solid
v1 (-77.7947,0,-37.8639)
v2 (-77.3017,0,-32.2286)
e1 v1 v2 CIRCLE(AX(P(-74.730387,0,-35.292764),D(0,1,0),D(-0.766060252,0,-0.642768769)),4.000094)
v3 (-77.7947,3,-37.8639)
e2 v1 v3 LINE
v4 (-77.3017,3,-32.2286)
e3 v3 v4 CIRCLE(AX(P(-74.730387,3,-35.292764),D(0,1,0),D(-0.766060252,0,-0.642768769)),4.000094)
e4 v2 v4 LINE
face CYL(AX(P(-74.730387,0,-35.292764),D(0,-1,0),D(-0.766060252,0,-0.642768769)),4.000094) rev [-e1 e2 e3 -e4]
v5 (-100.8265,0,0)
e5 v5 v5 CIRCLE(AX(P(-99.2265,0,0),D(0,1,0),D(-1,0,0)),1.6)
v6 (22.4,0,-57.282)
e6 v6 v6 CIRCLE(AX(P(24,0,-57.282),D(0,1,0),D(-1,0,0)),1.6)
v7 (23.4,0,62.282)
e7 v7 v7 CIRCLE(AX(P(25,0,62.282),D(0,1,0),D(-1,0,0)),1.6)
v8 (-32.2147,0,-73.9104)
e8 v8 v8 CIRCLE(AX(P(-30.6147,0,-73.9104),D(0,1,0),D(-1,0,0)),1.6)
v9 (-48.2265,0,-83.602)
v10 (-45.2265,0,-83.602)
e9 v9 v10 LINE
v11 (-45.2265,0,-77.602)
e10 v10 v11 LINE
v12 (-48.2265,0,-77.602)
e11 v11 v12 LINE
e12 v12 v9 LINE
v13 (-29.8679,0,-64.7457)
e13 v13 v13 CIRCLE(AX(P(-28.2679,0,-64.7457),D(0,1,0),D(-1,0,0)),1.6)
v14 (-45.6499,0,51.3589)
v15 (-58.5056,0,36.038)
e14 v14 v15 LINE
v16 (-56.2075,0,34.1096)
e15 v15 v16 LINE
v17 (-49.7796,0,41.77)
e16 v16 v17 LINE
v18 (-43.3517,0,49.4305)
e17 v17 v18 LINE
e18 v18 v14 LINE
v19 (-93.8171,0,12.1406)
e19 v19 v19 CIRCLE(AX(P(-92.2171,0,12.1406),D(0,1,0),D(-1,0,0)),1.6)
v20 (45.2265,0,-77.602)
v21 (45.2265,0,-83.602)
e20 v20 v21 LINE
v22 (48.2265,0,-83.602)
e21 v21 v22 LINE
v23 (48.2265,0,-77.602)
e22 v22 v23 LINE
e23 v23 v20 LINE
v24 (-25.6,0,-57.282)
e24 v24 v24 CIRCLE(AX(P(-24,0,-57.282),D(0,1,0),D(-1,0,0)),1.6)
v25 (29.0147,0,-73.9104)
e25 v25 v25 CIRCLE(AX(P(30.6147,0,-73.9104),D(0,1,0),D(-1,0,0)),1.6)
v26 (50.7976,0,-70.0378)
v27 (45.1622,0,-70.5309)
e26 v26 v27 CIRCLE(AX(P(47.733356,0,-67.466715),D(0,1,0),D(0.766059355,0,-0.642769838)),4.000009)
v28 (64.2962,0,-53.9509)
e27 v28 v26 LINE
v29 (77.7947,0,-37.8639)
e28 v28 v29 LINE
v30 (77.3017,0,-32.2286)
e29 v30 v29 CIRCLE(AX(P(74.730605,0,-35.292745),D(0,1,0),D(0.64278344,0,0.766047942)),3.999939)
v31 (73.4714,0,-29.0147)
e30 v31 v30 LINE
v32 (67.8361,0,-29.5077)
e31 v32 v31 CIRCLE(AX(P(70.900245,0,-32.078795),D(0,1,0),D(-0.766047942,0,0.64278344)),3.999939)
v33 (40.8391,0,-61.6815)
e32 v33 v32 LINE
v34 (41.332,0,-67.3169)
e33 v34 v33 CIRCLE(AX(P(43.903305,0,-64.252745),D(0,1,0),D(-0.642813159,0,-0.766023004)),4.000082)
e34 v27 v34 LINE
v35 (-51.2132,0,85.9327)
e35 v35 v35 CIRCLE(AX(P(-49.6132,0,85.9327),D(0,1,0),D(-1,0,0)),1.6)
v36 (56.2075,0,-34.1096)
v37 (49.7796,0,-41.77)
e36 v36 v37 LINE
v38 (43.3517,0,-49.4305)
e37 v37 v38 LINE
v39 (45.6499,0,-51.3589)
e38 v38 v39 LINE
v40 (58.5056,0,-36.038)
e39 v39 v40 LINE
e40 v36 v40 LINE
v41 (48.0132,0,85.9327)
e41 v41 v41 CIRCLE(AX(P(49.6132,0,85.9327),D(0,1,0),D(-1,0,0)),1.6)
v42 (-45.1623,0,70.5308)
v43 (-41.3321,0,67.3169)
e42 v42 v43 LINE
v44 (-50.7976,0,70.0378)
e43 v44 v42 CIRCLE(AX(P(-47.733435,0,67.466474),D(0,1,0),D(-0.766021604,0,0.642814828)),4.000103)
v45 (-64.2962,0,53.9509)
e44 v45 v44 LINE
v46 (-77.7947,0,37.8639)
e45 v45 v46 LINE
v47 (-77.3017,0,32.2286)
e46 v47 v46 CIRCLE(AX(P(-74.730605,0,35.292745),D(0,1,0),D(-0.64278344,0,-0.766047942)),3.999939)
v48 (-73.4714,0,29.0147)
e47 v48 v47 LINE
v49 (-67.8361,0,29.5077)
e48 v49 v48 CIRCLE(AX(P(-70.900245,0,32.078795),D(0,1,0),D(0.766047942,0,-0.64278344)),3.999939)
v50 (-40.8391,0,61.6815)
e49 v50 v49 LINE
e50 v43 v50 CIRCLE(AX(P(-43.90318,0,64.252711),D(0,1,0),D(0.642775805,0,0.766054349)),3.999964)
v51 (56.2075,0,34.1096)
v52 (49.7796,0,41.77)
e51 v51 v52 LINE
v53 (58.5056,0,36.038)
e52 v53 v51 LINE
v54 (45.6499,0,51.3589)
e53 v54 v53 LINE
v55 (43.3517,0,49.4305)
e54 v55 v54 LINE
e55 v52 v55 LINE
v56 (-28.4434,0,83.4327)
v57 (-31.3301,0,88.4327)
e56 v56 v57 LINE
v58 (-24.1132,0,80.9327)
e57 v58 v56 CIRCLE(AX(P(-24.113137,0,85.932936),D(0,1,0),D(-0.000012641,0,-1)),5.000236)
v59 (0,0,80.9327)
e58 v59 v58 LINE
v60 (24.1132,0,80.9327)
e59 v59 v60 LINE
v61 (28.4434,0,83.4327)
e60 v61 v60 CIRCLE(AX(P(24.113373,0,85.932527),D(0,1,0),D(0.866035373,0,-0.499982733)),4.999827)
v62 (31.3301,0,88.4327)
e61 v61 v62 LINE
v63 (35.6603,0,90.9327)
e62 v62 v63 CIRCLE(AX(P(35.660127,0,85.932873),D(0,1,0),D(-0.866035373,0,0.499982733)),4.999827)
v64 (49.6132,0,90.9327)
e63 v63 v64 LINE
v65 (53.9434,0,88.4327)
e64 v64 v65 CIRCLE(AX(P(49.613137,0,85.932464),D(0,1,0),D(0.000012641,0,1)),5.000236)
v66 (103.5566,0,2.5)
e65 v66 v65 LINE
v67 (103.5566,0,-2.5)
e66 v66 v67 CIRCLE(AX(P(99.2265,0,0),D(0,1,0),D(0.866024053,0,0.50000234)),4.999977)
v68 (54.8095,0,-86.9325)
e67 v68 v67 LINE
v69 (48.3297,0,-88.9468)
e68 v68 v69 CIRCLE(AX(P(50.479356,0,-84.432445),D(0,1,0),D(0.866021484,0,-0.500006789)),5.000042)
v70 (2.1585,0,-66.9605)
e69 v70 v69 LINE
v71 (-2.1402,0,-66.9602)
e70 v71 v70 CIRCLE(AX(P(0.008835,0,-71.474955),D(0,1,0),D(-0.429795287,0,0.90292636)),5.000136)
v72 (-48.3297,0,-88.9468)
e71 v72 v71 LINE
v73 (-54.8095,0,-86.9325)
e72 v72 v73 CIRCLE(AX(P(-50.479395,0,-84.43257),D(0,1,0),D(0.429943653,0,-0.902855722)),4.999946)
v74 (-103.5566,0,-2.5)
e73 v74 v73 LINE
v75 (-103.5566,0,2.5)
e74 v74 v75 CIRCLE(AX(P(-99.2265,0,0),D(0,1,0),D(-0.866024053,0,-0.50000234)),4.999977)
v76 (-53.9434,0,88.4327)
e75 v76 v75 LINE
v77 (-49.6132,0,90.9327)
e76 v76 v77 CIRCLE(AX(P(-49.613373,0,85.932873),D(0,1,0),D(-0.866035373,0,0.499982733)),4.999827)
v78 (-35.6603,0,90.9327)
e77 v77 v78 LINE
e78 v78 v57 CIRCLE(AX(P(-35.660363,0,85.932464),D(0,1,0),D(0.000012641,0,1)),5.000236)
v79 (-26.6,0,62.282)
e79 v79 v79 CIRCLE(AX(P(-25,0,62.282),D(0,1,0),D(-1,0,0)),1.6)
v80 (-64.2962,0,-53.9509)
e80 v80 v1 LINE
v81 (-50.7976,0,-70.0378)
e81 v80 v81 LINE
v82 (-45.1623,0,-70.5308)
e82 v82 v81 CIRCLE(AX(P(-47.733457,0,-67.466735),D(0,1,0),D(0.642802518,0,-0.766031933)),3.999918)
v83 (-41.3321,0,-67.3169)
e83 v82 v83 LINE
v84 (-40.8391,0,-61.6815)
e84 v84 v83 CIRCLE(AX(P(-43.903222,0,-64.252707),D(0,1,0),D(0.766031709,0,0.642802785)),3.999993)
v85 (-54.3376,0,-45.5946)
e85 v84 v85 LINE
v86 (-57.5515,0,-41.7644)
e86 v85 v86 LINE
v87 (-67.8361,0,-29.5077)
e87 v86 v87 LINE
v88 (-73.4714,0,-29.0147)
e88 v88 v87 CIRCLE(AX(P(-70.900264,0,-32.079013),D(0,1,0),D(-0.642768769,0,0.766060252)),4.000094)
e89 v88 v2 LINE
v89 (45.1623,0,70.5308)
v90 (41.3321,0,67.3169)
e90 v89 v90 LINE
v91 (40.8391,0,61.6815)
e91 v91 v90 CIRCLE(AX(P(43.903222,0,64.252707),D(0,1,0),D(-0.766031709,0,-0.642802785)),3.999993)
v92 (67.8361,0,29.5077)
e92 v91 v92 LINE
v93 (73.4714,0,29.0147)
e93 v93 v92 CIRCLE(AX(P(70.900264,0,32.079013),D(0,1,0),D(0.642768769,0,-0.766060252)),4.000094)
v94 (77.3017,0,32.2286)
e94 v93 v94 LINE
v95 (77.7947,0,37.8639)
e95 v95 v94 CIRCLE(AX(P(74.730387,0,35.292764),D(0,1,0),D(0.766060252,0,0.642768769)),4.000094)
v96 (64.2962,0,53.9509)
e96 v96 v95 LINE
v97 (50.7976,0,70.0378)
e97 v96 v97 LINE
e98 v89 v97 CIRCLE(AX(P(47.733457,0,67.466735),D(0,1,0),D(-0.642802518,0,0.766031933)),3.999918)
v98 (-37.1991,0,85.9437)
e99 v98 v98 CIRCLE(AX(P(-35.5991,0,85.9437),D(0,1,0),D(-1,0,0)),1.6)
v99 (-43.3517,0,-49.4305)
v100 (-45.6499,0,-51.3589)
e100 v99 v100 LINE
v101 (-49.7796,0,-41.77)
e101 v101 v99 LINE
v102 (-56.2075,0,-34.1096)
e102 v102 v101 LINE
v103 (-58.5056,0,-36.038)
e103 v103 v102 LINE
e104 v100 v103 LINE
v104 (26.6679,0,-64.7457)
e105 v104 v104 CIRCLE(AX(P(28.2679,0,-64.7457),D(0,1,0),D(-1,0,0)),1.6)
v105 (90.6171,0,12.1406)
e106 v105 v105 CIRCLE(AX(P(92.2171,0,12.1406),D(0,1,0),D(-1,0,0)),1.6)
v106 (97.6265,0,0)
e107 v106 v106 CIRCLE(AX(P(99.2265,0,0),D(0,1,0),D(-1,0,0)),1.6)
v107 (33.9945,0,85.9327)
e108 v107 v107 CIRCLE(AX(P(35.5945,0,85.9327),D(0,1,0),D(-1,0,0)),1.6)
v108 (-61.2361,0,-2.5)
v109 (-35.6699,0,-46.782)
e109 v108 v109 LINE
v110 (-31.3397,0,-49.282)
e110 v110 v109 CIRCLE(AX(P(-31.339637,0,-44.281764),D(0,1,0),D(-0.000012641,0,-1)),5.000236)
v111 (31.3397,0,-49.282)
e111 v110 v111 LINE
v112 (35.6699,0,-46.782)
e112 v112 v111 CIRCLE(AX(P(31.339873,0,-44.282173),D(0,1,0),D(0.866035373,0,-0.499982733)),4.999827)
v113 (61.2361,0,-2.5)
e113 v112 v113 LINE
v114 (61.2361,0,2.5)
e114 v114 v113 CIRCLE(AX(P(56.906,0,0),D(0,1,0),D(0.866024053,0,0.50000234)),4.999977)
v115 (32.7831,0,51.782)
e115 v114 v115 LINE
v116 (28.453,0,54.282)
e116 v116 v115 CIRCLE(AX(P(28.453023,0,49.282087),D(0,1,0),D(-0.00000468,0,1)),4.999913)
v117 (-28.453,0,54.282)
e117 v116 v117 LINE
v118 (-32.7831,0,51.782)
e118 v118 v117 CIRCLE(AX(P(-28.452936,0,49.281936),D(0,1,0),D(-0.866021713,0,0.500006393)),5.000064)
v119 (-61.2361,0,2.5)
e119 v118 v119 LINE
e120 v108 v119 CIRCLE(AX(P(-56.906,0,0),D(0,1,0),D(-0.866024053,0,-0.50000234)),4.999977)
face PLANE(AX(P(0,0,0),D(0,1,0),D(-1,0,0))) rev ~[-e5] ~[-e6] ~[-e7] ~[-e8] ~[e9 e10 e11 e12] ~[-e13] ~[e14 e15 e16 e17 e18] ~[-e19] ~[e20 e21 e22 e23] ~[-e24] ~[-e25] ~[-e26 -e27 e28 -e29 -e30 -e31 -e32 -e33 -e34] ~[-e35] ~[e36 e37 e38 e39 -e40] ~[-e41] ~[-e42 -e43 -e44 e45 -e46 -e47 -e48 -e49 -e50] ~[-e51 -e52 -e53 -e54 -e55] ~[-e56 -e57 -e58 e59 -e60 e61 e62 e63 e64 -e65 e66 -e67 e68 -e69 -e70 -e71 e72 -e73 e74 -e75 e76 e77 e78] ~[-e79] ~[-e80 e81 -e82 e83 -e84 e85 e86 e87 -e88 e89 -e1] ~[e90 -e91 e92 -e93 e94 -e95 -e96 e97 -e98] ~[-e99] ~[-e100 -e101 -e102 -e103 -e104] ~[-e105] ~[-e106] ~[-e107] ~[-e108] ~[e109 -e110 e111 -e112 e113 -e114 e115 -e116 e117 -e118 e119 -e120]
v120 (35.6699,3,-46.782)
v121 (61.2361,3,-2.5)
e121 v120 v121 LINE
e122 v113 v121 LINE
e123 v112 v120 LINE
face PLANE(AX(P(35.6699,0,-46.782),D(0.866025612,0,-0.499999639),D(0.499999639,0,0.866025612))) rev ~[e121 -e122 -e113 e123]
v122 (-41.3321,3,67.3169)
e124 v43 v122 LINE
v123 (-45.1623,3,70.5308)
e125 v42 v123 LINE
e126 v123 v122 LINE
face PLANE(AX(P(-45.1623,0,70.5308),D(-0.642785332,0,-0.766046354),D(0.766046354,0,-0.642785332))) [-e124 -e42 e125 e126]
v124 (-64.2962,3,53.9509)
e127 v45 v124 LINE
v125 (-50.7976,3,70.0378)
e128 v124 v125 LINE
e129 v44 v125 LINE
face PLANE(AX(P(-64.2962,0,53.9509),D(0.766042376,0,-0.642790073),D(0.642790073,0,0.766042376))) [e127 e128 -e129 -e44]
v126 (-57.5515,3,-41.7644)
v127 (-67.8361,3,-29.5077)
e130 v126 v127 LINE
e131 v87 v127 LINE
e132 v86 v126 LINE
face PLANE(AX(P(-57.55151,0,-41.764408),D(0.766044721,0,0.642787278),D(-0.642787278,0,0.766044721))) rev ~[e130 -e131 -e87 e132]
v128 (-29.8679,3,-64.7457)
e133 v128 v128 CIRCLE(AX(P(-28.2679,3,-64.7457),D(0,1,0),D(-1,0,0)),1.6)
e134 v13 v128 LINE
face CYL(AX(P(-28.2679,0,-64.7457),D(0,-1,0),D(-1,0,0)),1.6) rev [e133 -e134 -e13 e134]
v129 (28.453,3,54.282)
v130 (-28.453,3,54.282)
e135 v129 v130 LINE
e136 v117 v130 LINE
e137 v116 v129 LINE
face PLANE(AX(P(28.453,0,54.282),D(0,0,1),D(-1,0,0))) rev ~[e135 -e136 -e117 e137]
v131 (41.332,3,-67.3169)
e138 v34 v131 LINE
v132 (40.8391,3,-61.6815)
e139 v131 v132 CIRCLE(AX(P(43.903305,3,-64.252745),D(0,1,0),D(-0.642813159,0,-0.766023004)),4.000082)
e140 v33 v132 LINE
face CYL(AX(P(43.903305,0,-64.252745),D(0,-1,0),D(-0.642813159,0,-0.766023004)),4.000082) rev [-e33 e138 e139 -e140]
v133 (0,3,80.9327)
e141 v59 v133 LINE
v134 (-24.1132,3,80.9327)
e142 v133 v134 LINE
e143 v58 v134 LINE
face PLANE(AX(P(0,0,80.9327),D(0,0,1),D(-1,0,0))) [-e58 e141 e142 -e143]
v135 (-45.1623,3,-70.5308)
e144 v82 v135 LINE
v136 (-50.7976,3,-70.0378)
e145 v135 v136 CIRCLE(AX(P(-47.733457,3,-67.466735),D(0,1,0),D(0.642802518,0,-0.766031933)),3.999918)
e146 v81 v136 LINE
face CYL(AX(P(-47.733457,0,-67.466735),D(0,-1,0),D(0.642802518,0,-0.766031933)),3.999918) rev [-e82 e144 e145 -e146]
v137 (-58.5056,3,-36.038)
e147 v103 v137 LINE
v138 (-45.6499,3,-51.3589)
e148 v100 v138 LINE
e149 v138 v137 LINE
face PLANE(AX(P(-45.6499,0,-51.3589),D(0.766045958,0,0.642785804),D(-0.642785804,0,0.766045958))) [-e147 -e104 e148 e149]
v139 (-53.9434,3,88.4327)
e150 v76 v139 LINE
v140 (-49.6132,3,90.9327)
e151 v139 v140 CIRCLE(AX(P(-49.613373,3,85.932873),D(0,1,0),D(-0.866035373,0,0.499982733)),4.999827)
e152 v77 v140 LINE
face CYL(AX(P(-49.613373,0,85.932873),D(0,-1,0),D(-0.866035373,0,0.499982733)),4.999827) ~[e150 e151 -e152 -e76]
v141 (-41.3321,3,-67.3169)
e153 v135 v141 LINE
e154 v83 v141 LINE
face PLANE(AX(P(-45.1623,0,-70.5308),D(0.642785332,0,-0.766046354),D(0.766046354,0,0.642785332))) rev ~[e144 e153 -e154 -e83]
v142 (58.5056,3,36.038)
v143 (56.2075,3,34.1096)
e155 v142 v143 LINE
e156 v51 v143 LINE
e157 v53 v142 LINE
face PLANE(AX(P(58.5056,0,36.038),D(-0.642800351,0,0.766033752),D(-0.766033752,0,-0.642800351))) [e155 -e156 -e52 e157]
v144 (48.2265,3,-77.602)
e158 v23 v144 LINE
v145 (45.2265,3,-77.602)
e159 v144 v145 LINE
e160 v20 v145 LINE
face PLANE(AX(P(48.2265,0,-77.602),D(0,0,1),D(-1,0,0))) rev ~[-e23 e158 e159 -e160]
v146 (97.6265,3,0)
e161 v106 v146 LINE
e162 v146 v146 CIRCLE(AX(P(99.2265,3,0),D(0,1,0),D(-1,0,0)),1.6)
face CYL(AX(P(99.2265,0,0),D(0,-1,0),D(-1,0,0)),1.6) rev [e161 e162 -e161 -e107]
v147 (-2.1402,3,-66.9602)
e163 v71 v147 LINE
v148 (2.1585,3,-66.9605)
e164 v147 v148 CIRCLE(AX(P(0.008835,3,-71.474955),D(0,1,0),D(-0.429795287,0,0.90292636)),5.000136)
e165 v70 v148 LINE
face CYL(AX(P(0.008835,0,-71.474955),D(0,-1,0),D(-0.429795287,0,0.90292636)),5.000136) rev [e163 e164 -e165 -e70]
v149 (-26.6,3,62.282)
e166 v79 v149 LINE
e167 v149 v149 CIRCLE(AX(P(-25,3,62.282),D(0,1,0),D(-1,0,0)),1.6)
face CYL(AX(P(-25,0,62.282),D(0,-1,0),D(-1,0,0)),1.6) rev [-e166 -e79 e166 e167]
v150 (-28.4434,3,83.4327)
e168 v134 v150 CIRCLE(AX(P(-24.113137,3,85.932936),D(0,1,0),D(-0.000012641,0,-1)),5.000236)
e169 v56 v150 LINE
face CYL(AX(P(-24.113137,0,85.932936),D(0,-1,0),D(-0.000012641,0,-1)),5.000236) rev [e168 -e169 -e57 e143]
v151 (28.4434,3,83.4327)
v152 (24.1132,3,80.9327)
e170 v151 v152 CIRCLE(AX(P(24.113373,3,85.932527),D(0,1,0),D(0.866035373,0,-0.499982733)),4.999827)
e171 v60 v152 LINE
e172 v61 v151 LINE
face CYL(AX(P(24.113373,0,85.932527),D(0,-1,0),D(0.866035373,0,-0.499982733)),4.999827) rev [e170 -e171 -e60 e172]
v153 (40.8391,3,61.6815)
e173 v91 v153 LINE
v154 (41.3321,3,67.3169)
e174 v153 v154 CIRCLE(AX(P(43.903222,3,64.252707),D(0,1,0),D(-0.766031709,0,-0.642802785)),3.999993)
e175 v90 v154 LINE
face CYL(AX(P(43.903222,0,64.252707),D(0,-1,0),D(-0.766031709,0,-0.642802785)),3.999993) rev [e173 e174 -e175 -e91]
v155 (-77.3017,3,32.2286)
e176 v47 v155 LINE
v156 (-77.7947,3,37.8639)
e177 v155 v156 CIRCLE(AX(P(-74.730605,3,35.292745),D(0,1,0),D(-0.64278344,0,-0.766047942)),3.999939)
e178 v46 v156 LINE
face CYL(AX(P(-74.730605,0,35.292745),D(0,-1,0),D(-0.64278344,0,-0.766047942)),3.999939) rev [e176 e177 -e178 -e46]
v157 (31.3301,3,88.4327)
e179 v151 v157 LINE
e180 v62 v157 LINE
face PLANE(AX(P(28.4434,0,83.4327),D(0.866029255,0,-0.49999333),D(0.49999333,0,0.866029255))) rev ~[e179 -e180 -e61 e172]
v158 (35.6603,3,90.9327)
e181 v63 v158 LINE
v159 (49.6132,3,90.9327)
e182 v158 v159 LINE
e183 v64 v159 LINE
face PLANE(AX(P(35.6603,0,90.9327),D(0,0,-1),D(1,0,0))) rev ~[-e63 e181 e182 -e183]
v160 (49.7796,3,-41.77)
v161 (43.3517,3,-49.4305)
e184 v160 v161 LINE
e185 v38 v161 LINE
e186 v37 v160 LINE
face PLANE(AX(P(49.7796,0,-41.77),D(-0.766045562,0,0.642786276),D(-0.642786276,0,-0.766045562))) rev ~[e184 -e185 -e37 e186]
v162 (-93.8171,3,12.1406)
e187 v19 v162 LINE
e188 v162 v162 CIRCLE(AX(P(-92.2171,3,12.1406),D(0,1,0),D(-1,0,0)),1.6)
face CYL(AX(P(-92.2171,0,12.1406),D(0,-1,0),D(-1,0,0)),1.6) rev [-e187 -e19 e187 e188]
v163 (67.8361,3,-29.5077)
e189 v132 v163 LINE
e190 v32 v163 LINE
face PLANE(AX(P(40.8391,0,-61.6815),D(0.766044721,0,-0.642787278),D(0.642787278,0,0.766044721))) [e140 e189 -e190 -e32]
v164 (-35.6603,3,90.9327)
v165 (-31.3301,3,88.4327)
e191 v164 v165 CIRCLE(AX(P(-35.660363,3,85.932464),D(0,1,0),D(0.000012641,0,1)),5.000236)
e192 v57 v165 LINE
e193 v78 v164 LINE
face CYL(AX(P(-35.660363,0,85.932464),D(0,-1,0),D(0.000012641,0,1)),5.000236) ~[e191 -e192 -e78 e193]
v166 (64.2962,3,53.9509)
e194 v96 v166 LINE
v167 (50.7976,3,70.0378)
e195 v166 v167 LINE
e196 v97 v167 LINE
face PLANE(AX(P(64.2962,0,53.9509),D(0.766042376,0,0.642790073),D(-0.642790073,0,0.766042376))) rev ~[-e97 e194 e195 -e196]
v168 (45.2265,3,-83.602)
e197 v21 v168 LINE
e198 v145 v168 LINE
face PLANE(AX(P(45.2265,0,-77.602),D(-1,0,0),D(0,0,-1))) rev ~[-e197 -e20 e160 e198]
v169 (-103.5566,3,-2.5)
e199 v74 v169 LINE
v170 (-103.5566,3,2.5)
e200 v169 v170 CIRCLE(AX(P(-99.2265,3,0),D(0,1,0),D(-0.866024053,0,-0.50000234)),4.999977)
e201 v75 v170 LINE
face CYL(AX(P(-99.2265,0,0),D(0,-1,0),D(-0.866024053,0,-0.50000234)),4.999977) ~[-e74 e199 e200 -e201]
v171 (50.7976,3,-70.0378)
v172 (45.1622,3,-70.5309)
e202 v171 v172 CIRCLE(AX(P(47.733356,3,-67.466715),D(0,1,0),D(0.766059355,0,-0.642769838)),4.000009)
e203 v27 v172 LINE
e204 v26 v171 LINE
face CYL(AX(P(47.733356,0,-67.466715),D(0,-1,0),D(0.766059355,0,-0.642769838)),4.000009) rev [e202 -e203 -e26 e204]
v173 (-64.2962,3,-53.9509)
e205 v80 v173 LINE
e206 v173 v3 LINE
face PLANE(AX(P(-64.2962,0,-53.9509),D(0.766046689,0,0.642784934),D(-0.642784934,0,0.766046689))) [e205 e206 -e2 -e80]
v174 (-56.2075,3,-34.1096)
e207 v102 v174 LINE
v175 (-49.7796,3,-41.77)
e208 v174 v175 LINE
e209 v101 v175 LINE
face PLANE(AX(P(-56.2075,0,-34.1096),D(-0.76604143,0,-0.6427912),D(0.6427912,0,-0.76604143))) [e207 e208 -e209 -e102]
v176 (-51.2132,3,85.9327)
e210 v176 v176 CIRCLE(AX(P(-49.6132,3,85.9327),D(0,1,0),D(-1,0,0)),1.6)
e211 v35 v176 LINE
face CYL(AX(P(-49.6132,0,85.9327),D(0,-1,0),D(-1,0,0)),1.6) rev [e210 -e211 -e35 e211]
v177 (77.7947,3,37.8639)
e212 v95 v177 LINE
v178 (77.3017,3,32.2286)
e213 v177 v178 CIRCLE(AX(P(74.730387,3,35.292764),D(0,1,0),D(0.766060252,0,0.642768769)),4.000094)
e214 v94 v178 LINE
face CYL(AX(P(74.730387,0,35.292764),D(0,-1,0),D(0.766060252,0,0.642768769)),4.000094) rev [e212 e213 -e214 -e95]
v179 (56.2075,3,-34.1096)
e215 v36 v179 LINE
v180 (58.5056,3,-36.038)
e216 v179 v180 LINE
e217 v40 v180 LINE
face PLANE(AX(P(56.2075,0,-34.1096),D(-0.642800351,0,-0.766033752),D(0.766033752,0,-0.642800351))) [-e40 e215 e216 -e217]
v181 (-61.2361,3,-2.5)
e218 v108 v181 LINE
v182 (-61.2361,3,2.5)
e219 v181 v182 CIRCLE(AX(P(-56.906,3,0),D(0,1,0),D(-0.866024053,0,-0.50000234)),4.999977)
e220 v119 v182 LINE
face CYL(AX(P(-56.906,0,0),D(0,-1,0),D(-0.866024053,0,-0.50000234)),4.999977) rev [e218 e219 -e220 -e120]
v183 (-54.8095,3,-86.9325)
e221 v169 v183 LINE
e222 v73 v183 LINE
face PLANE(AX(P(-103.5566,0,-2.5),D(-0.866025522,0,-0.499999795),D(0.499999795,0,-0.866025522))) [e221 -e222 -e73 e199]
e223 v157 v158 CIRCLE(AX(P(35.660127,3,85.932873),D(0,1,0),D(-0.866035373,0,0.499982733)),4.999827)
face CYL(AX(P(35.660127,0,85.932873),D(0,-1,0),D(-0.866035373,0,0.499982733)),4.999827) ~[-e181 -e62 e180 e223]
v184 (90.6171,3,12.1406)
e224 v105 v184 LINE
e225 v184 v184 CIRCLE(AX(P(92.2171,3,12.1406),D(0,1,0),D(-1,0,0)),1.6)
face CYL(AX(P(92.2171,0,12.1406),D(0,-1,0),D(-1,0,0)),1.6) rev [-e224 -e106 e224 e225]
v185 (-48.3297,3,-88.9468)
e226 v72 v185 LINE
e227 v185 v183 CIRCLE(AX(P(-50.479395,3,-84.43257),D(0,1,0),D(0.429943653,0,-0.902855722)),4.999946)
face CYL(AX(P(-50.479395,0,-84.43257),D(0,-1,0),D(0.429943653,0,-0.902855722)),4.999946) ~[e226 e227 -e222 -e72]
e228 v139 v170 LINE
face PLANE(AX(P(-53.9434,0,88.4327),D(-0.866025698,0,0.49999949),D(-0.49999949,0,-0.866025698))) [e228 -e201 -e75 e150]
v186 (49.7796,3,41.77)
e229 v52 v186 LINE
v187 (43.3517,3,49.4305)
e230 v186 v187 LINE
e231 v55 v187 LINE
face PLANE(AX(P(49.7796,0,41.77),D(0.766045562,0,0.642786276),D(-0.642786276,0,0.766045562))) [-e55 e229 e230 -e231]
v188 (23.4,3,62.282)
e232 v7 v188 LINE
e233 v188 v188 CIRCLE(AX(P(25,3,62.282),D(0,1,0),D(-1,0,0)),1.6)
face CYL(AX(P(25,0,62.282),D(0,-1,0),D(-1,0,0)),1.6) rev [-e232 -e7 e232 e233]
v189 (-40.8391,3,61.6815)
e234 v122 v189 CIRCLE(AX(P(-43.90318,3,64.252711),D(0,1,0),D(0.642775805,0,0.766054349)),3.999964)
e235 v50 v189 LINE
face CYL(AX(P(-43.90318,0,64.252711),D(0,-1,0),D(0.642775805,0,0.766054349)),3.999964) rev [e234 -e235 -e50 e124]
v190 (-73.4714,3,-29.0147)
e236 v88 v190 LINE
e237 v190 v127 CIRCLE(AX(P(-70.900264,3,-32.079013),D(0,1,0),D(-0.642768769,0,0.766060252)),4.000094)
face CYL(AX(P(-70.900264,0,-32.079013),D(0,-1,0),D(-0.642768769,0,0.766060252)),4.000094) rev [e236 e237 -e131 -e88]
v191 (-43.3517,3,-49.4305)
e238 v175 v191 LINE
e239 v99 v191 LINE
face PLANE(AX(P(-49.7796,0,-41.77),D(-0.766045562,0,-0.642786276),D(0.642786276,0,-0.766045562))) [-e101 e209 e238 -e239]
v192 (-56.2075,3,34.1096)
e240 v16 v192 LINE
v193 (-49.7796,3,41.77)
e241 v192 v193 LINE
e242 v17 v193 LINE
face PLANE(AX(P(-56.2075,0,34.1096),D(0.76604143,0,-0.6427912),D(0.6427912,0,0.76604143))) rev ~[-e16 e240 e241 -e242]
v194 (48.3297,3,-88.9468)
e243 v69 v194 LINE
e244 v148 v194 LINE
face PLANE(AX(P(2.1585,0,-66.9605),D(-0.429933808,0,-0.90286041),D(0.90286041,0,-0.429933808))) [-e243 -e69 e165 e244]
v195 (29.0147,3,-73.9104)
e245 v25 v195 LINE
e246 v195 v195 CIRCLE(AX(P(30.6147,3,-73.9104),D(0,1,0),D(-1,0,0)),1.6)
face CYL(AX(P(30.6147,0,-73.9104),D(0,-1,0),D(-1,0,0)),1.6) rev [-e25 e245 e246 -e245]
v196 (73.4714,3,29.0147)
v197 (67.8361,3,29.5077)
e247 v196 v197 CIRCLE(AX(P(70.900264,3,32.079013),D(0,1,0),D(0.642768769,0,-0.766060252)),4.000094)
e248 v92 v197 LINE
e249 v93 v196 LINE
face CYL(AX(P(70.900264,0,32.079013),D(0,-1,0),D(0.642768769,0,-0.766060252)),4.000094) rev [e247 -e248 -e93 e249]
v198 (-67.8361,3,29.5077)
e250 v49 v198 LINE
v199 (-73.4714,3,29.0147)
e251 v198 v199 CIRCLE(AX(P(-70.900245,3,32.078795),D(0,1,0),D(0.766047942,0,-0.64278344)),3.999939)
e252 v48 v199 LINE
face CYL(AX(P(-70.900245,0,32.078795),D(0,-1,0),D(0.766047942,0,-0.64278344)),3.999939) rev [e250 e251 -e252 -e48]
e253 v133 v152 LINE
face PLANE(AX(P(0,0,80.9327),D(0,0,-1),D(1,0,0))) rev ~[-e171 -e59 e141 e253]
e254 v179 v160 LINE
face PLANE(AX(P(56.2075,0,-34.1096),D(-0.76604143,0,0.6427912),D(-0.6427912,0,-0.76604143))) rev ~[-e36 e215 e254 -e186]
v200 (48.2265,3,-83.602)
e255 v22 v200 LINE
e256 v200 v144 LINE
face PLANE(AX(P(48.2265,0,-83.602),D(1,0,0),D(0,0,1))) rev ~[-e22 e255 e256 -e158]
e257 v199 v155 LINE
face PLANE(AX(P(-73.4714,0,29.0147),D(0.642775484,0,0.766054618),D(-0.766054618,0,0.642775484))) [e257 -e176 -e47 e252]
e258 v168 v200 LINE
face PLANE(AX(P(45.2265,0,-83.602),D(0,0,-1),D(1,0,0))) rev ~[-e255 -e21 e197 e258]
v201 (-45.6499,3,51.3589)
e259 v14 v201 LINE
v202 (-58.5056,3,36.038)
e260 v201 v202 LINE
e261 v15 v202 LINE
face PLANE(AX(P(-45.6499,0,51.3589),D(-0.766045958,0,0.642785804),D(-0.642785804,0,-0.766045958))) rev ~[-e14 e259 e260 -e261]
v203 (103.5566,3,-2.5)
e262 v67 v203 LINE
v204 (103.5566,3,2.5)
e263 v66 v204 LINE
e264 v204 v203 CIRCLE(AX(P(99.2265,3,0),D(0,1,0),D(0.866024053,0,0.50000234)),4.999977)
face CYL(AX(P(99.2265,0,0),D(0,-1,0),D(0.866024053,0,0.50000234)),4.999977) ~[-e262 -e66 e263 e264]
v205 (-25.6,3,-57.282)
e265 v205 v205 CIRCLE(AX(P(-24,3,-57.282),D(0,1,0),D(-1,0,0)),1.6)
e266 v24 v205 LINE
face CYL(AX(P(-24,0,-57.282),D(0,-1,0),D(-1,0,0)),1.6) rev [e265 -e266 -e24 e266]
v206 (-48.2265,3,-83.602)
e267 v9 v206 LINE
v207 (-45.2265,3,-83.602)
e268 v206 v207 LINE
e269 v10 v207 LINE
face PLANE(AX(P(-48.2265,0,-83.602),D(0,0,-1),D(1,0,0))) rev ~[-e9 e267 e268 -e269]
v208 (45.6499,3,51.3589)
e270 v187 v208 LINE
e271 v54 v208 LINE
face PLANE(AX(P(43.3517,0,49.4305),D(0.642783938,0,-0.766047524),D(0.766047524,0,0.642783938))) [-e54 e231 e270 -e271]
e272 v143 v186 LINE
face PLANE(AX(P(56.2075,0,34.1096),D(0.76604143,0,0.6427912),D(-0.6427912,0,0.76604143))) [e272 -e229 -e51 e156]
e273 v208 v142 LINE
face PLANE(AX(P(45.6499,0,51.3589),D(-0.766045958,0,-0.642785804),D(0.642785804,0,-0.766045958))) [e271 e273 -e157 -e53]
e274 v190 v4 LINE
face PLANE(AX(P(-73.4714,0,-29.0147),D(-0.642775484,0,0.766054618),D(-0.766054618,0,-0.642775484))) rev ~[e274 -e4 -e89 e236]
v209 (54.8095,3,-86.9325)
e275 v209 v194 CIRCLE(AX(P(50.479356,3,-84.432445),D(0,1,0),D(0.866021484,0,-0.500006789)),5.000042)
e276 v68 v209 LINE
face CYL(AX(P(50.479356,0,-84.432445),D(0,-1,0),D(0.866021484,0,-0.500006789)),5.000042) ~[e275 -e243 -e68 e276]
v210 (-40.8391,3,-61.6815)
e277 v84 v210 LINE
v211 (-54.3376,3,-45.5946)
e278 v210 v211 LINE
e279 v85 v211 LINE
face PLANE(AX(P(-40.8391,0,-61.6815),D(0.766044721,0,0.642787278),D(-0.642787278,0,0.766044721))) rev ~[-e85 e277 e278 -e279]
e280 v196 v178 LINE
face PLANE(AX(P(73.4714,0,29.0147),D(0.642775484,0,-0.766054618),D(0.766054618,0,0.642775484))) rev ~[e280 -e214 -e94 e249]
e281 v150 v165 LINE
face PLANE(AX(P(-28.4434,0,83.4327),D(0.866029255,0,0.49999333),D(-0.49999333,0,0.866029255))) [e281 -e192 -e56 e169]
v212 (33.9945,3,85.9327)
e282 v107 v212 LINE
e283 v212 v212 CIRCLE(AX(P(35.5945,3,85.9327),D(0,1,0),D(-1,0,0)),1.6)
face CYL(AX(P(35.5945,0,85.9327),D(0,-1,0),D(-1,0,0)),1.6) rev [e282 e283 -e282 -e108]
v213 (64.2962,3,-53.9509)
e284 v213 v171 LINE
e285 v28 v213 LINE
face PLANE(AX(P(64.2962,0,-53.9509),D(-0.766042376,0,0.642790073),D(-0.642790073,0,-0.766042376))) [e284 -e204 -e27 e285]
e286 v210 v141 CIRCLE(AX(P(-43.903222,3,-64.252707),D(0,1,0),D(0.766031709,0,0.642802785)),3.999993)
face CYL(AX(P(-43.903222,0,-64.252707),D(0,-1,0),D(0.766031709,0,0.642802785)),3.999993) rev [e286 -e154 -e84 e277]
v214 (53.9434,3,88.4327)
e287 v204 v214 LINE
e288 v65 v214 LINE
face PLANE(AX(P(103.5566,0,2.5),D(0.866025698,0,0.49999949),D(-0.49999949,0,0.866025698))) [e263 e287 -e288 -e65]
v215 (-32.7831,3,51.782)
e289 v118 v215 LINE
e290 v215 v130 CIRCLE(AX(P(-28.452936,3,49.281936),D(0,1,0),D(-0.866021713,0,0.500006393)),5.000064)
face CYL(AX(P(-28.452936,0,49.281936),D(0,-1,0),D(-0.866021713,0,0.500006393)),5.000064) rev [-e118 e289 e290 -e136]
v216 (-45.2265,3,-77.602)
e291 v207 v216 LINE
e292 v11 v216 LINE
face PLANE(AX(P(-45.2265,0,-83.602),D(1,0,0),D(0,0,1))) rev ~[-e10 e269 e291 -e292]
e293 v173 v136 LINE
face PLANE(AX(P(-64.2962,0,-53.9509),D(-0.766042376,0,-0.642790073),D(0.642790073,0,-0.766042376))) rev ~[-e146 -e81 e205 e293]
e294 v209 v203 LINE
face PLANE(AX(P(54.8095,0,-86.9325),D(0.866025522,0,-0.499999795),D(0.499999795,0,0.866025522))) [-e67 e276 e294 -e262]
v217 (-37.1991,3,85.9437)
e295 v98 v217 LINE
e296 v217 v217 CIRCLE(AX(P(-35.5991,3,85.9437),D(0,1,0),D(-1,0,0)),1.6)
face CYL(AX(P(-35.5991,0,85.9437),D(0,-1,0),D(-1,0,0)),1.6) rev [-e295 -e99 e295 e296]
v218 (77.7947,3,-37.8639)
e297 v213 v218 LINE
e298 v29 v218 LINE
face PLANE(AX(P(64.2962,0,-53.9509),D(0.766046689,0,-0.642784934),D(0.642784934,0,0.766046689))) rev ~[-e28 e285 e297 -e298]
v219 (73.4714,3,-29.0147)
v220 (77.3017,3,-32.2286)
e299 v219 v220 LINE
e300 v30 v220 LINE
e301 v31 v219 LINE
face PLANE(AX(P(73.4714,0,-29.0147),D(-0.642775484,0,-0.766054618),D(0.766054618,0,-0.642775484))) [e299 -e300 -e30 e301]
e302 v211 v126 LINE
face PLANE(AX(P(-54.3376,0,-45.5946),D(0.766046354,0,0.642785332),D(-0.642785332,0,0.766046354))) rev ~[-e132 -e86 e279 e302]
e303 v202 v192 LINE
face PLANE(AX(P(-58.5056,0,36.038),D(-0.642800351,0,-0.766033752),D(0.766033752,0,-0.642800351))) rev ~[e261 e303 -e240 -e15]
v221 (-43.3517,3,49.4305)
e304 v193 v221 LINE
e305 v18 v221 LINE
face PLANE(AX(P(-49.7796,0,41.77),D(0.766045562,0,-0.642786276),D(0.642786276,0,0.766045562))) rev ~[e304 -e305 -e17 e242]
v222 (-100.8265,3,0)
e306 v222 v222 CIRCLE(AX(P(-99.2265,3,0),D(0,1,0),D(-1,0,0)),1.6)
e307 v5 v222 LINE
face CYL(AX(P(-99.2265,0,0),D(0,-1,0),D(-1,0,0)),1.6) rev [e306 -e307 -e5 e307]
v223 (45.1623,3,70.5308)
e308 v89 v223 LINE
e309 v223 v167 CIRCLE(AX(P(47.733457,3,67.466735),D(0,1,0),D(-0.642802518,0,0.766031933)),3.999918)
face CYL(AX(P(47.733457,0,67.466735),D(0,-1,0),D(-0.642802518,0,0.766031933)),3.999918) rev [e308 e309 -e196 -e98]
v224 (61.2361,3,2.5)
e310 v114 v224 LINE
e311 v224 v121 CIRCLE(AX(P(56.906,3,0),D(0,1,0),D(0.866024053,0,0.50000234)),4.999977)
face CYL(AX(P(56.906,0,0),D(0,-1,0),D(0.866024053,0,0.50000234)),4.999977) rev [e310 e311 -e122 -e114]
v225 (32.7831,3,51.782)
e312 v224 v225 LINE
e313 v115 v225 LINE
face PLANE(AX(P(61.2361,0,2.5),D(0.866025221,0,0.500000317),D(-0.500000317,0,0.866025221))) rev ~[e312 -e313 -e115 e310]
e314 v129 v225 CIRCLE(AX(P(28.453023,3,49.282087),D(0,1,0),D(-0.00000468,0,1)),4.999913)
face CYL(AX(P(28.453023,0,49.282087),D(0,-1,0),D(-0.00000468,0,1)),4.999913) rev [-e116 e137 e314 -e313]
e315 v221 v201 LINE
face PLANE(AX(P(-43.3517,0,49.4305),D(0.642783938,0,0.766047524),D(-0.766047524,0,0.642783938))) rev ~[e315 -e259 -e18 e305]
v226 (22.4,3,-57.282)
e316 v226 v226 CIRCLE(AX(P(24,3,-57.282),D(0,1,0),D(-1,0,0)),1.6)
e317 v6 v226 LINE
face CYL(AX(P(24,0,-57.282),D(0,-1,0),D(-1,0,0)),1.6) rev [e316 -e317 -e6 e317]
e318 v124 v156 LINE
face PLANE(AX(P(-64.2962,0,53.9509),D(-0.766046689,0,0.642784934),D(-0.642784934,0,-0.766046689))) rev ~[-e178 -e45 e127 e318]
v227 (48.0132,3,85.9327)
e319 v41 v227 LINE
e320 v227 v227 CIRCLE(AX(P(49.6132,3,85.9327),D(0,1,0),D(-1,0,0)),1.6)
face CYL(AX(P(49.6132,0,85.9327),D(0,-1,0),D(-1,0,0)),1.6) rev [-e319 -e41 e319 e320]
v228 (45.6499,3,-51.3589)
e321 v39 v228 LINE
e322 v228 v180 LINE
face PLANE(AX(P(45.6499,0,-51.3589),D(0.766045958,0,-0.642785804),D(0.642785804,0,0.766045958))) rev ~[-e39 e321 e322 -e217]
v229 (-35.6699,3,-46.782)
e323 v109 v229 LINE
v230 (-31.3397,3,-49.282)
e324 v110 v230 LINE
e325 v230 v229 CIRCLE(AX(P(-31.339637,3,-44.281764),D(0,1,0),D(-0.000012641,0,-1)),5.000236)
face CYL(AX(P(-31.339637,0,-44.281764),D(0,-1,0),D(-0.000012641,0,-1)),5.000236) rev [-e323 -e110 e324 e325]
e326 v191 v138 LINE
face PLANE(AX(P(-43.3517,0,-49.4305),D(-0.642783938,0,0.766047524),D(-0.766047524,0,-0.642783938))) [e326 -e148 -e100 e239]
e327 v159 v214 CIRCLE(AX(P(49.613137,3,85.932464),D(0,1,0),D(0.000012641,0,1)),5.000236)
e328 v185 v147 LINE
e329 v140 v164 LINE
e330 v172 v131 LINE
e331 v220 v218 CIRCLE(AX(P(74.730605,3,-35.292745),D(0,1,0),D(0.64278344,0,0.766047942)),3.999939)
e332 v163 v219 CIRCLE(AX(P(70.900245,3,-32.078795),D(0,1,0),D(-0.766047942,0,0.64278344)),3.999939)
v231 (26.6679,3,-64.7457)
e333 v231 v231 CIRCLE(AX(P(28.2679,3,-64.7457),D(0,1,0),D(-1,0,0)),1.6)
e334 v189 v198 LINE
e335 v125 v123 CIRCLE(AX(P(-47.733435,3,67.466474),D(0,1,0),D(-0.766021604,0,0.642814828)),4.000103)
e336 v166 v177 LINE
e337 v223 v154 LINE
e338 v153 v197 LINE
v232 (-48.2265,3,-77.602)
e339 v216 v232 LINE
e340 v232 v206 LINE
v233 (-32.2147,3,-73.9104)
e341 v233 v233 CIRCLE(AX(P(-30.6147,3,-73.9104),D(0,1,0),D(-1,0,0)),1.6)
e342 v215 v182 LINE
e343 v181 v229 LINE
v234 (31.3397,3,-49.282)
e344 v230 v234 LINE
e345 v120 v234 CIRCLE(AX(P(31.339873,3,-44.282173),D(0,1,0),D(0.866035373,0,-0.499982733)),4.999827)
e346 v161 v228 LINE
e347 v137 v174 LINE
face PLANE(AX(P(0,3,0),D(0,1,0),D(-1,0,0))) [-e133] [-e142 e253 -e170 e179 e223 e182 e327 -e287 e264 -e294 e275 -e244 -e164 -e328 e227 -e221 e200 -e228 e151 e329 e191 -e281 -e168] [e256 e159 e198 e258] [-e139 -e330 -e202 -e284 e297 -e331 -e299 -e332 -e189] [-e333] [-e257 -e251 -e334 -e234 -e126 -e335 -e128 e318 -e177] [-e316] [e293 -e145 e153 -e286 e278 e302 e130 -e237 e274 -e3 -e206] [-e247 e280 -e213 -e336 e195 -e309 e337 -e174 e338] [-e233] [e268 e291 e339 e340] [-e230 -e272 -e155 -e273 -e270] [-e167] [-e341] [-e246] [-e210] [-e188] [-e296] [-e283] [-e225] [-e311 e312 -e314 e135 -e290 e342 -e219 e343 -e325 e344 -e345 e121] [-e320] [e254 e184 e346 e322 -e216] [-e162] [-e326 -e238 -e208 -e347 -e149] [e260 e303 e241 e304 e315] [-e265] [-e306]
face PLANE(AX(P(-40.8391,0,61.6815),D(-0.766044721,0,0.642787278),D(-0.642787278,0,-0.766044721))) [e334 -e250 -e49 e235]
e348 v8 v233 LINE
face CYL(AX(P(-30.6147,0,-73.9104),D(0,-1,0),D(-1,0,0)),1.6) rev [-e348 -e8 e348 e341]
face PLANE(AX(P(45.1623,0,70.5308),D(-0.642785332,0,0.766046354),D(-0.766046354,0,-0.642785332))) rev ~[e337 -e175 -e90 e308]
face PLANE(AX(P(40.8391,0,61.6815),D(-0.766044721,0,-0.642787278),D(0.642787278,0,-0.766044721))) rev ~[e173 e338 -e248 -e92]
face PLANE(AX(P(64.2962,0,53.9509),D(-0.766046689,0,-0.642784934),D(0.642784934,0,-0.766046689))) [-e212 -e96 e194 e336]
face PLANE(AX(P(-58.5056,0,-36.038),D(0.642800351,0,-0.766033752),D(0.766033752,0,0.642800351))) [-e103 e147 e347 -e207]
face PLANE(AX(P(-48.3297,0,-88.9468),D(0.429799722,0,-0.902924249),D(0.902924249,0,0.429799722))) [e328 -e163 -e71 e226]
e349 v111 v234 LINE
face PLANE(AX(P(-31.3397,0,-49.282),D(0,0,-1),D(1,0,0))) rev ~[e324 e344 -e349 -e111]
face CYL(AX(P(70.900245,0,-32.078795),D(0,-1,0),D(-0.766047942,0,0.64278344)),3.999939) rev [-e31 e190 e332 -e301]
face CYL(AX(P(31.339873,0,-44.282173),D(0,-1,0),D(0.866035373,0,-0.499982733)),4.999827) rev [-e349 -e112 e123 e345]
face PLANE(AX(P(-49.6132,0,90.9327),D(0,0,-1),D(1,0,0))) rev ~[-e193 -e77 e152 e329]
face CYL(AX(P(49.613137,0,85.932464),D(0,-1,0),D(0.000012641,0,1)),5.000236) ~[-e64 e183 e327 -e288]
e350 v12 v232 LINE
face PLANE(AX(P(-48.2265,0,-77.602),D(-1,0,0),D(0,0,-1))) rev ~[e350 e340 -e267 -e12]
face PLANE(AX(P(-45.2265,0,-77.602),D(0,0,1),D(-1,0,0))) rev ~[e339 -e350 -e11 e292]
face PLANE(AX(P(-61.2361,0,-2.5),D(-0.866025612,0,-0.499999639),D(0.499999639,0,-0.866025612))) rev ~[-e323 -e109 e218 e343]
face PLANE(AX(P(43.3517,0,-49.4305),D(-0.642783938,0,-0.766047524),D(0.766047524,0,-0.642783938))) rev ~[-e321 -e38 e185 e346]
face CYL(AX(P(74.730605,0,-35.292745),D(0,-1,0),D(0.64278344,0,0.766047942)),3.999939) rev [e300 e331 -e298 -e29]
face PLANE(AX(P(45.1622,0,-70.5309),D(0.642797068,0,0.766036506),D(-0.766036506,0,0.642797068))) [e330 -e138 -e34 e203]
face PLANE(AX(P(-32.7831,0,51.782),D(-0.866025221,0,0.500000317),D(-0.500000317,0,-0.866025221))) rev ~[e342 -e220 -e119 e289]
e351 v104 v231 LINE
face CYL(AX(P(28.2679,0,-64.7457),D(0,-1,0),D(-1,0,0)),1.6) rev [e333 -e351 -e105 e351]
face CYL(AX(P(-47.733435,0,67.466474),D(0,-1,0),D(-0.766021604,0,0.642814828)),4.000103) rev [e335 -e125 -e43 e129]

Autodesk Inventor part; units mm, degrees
ref_plane "YZ Plane" through (0, 0, 0) normal (1, 0, 0) x (0, 1, 0)
ref_plane "XZ Plane" through (0, 0, 0) normal (0, 1, 0) x (-1, 0, 0)
ref_plane "XY Plane" through (0, 0, 0) normal (0, 0, 1) x (1, 0, 0)
sketch "Sketch1" plane through (0, 0, 0) normal (0, 1, 0) x (-1, 0, 0)
  line L0 (103.5566, -2.5) -> (54.8095, -86.9325)
  line L1 (-54.8095, -86.9325) -> (-103.5566, -2.5)
  line L2 (-103.5566, 2.5) -> (-53.9434, 88.4327)
  line L3 (53.9434, 88.4327) -> (103.5566, 2.5)
  arc A0 (48.3297, -88.9468) -> (54.8095, -86.9325) centre (50.4794, -84.4325) ccw
  arc A1 (-54.8095, -86.9325) -> (-48.3297, -88.9468) centre (-50.4794, -84.4325) ccw
  arc A2 (-103.5566, 2.5) -> (-103.5566, -2.5) centre (-99.2265, 0) ccw
  arc A3 (-49.6132, 90.9327) -> (-53.9434, 88.4327) centre (-49.6132, 85.9327) ccw
  arc A4 (53.9434, 88.4327) -> (49.6132, 90.9327) centre (49.6132, 85.9327) ccw
  arc A5 (103.5566, -2.5) -> (103.5566, 2.5) centre (99.2265, 0) ccw
  circle A6 centre (49.6132, 85.9327) radius 1.6
  circle A7 centre (-49.6132, 85.9327) radius 1.6
  circle A8 centre (-99.2265, 0) radius 1.6
  circle A9 centre (99.2265, 0) radius 1.6
  circle A10 centre (-25, 62.282) radius 1.6
  circle A11 centre (25, 62.282) radius 1.6
  circle A12 centre (24, -57.282) radius 1.6
  circle A13 centre (-24, -57.282) radius 1.6
  circle A14 centre (-30.6147, -73.9104) radius 1.6
  circle A15 centre (30.6147, -73.9104) radius 1.6
  circle A16 centre (35.5991, 85.9437) radius 1.6
  circle A17 centre (-35.5945, 85.9327) radius 1.6
  circle A18 centre (92.2171, 12.1406) radius 1.6
  circle A19 centre (-92.2171, 12.1406) radius 1.6
  arc A20 (31.3397, -49.282) -> (35.6699, -46.782) centre (31.3397, -44.282) ccw
  line L4 (31.3397, -49.282) -> (-31.3397, -49.282)
  arc A21 (-35.6699, -46.782) -> (-31.3397, -49.282) centre (-31.3397, -44.282) ccw
  line L5 (-35.6699, -46.782) -> (-61.2361, -2.5)
  arc A22 (-61.2361, 2.5) -> (-61.2361, -2.5) centre (-56.906, 0) ccw
  line L6 (-61.2361, 2.5) -> (-32.7831, 51.782)
  arc A23 (-28.453, 54.282) -> (-32.7831, 51.782) centre (-28.453, 49.282) ccw
  line L7 (-28.453, 54.282) -> (28.453, 54.282)
  arc A24 (32.7831, 51.782) -> (28.453, 54.282) centre (28.453, 49.282) ccw
  line L8 (32.7831, 51.782) -> (61.2361, 2.5)
  arc A25 (61.2361, -2.5) -> (61.2361, 2.5) centre (56.906, 0) ccw
  line L9 (61.2361, -2.5) -> (35.6699, -46.782)
  arc A26 (67.8361, 29.5077) -> (73.4714, 29.0147) centre (70.9003, 32.0789) ccw
  arc A27 (77.3017, 32.2286) -> (77.7947, 37.8639) centre (74.7305, 35.2928) ccw
  line L10 (73.4714, 29.0147) -> (77.3017, 32.2286)
  arc A28 (50.7976, 70.0378) -> (45.1623, 70.5308) centre (47.7335, 67.4666) ccw
  line L11 (45.1623, 70.5308) -> (41.3321, 67.3169)
  arc A29 (41.3321, 67.3169) -> (40.8391, 61.6815) centre (43.9032, 64.2527) ccw
  line L12 (64.2962, 53.9509) -> (50.7976, 70.0378)
  line L13 (64.2962, 53.9509) -> (77.7947, 37.8639)
  line L14 (40.8391, 61.6815) -> (67.8361, 29.5077)
  line L15 (49.7796, 41.77) -> (43.3517, 49.4305)
  line L16 (43.3517, 49.4305) -> (45.6499, 51.3589)
  line L17 (45.6499, 51.3589) -> (58.5056, 36.038)
  line L18 (58.5056, 36.038) -> (56.2075, 34.1096)
  line L19 (56.2075, 34.1096) -> (49.7796, 41.77)
  arc A30 (73.4714, -29.0147) -> (67.8361, -29.5077) centre (70.9003, -32.0789) ccw
  line L20 (54.3376, -45.5946) -> (57.5515, -41.7644)
  line L21 (45.6499, -51.3589) -> (58.5056, -36.038)
  line L22 (58.5056, -36.038) -> (56.2075, -34.1096)
  line L23 (40.8391, -61.6815) -> (67.8361, -29.5077)
  line L24 (64.2962, -53.9509) -> (77.7947, -37.8639)
  line L25 (73.4714, -29.0147) -> (77.3017, -32.2286)
  arc A31 (77.7947, -37.8639) -> (77.3017, -32.2286) centre (74.7305, -35.2928) ccw
  line L26 (43.3517, -49.4305) -> (45.6499, -51.3589)
  line L27 (49.7796, -41.77) -> (43.3517, -49.4305)
  arc A32 (45.1623, -70.5308) -> (50.7976, -70.0378) centre (47.7335, -67.4666) ccw
  line L28 (64.2962, -53.9509) -> (50.7976, -70.0378)
  line L29 (45.1623, -70.5308) -> (41.3321, -67.3169)
  arc A33 (40.8391, -61.6815) -> (41.3321, -67.3169) centre (43.9032, -64.2527) ccw
  line L30 (56.2075, -34.1096) -> (49.7796, -41.77)
  line L31 (-40.8391, -61.6815) -> (-67.8361, -29.5077)
  arc A34 (-67.8361, -29.5077) -> (-73.4714, -29.0147) centre (-70.9003, -32.0789) ccw
  line L32 (-45.6499, -51.3589) -> (-58.5056, -36.038)
  line L33 (-64.2962, -53.9509) -> (-77.7947, -37.8639)
  line L34 (-73.4714, -29.0147) -> (-77.3017, -32.2286)
  arc A35 (-77.3017, -32.2286) -> (-77.7947, -37.8639) centre (-74.7305, -35.2928) ccw
  line L35 (-43.3517, -49.4305) -> (-45.6499, -51.3589)
  line L36 (-49.7796, -41.77) -> (-43.3517, -49.4305)
  line L37 (-56.2075, -34.1096) -> (-49.7796, -41.77)
  line L38 (-45.1622, -70.5309) -> (-41.332, -67.3169)
  arc A36 (-50.7976, -70.0378) -> (-45.1622, -70.5309) centre (-47.7334, -67.4668) ccw
  line L39 (-64.2962, -53.9509) -> (-50.7976, -70.0378)
  arc A37 (-41.332, -67.3169) -> (-40.8391, -61.6815) centre (-43.9032, -64.2528) ccw
  line L40 (-40.8391, 61.6815) -> (-67.8361, 29.5077)
  arc A38 (-73.4714, 29.0147) -> (-67.8361, 29.5077) centre (-70.9003, 32.0789) ccw
  line L41 (-73.4714, 29.0147) -> (-77.3017, 32.2286)
  arc A39 (-77.7947, 37.8639) -> (-77.3017, 32.2286) centre (-74.7305, 35.2928) ccw
  line L42 (-64.2962, 53.9509) -> (-77.7947, 37.8639)
  line L43 (-56.2075, 34.1096) -> (-49.7796, 41.77)
  line L44 (-49.7796, 41.77) -> (-43.3517, 49.4305)
  line L45 (-45.6499, 51.3589) -> (-58.5056, 36.038)
  line L46 (-58.5056, 36.038) -> (-56.2075, 34.1096)
  line L47 (-64.2962, 53.9509) -> (-50.7976, 70.0378)
  line L48 (-43.3517, 49.4305) -> (-45.6499, 51.3589)
  line L49 (-45.1623, 70.5308) -> (-41.3321, 67.3169)
  arc A40 (-45.1623, 70.5308) -> (-50.7976, 70.0378) centre (-47.7335, 67.4666) ccw
  arc A41 (-40.8391, 61.6815) -> (-41.3321, 67.3169) centre (-43.9032, 64.2527) ccw
  line L50 (-56.2075, -34.1096) -> (-58.5056, -36.038)
  circle A42 centre (28.2679, -64.7457) radius 1.6
  circle A43 centre (-28.2679, -64.7457) radius 1.6
  line L51 (48.2265, -83.602) -> (45.2265, -83.602)
  line L52 (45.2265, -83.602) -> (45.2265, -77.602)
  line L53 (45.2265, -77.602) -> (48.2265, -77.602)
  line L54 (48.2265, -77.602) -> (48.2265, -83.602)
  line L55 (-45.2265, -83.602) -> (-48.2265, -83.602)
  line L56 (-48.2265, -83.602) -> (-48.2265, -77.602)
  line L57 (-48.2265, -77.602) -> (-45.2265, -77.602)
  line L58 (-45.2265, -77.602) -> (-45.2265, -83.602)
  line L59 (0, 80.9327) -> (24.1132, 80.9327)
  line L60 (28.4434, 83.4327) -> (31.3301, 88.4327)
  line L61 (0, 80.9327) -> (-24.1132, 80.9327)
  line L62 (-28.4434, 83.4327) -> (-31.3301, 88.4327)
  line L63 (49.6132, 90.9327) -> (35.6603, 90.9327)
  line L64 (-35.6603, 90.9327) -> (-49.6132, 90.9327)
  arc A44 (35.6603, 90.9327) -> (31.3301, 88.4327) centre (35.6603, 85.9327) ccw
  arc A45 (-31.3301, 88.4327) -> (-35.6603, 90.9327) centre (-35.6603, 85.9327) ccw
  arc A46 (24.1132, 80.9327) -> (28.4434, 83.4327) centre (24.1132, 85.9327) ccw
  arc A47 (-28.4434, 83.4327) -> (-24.1132, 80.9327) centre (-24.1132, 85.9327) ccw
  line L65 (48.3297, -88.9468) -> (2.1402, -66.9602)
  line L66 (-2.1585, -66.9605) -> (-48.3297, -88.9468)
  arc A48 (2.1402, -66.9602) -> (-2.1585, -66.9605) centre (-0.0088, -71.4748) ccw
  point P0 (52.5, -90.9327)
  point P1 (-52.5, 90.9327)
  point P2 (52.5, 90.9327)
  point P3 (70.4073, 26.4435)
  point P4 (80.3658, 34.7998)
  point P5 (38.2679, 64.7457)
  point P6 (48.2265, 73.102)
  point P7 (54.3376, 45.5946)
  point P8 (57.5515, 41.7644)
  point P9 (70.4073, -26.4435)
  point P10 (80.3658, -34.7998)
  point P11 (-70.4073, -26.4435)
  point P12 (-83.093, -27.663)
  point P13 (-70.4073, 26.4435)
  point P14 (-80.3658, 34.7998)
  point P15 (-48.2265, 73.102)
  point P16 (-38.2679, 64.7457)
  point P17 (27, 80.9327)
  point P18 (-27, 80.9327)
  dimension "d11" = 360
  dimension "d30" = 360
  dimension "d90" = 360
  dimension "d136" = 360
  dimension "d180" = 3.2
  dimension "d181" = 6
  dimension "d182" = 6
  dimension "d184" = 27
  dimension "d185" = 120
  dimension "d186" = 27
  dimension "d187" = 120
  dimension "d188" = 5
  dimension "d189" = 5
  dimension "d200" = 5
extrude "Extrusion1" add sketch "Sketch1" along normal blind 3
properties part number "Bottom Plate" material "PVC, Unplasticized"
